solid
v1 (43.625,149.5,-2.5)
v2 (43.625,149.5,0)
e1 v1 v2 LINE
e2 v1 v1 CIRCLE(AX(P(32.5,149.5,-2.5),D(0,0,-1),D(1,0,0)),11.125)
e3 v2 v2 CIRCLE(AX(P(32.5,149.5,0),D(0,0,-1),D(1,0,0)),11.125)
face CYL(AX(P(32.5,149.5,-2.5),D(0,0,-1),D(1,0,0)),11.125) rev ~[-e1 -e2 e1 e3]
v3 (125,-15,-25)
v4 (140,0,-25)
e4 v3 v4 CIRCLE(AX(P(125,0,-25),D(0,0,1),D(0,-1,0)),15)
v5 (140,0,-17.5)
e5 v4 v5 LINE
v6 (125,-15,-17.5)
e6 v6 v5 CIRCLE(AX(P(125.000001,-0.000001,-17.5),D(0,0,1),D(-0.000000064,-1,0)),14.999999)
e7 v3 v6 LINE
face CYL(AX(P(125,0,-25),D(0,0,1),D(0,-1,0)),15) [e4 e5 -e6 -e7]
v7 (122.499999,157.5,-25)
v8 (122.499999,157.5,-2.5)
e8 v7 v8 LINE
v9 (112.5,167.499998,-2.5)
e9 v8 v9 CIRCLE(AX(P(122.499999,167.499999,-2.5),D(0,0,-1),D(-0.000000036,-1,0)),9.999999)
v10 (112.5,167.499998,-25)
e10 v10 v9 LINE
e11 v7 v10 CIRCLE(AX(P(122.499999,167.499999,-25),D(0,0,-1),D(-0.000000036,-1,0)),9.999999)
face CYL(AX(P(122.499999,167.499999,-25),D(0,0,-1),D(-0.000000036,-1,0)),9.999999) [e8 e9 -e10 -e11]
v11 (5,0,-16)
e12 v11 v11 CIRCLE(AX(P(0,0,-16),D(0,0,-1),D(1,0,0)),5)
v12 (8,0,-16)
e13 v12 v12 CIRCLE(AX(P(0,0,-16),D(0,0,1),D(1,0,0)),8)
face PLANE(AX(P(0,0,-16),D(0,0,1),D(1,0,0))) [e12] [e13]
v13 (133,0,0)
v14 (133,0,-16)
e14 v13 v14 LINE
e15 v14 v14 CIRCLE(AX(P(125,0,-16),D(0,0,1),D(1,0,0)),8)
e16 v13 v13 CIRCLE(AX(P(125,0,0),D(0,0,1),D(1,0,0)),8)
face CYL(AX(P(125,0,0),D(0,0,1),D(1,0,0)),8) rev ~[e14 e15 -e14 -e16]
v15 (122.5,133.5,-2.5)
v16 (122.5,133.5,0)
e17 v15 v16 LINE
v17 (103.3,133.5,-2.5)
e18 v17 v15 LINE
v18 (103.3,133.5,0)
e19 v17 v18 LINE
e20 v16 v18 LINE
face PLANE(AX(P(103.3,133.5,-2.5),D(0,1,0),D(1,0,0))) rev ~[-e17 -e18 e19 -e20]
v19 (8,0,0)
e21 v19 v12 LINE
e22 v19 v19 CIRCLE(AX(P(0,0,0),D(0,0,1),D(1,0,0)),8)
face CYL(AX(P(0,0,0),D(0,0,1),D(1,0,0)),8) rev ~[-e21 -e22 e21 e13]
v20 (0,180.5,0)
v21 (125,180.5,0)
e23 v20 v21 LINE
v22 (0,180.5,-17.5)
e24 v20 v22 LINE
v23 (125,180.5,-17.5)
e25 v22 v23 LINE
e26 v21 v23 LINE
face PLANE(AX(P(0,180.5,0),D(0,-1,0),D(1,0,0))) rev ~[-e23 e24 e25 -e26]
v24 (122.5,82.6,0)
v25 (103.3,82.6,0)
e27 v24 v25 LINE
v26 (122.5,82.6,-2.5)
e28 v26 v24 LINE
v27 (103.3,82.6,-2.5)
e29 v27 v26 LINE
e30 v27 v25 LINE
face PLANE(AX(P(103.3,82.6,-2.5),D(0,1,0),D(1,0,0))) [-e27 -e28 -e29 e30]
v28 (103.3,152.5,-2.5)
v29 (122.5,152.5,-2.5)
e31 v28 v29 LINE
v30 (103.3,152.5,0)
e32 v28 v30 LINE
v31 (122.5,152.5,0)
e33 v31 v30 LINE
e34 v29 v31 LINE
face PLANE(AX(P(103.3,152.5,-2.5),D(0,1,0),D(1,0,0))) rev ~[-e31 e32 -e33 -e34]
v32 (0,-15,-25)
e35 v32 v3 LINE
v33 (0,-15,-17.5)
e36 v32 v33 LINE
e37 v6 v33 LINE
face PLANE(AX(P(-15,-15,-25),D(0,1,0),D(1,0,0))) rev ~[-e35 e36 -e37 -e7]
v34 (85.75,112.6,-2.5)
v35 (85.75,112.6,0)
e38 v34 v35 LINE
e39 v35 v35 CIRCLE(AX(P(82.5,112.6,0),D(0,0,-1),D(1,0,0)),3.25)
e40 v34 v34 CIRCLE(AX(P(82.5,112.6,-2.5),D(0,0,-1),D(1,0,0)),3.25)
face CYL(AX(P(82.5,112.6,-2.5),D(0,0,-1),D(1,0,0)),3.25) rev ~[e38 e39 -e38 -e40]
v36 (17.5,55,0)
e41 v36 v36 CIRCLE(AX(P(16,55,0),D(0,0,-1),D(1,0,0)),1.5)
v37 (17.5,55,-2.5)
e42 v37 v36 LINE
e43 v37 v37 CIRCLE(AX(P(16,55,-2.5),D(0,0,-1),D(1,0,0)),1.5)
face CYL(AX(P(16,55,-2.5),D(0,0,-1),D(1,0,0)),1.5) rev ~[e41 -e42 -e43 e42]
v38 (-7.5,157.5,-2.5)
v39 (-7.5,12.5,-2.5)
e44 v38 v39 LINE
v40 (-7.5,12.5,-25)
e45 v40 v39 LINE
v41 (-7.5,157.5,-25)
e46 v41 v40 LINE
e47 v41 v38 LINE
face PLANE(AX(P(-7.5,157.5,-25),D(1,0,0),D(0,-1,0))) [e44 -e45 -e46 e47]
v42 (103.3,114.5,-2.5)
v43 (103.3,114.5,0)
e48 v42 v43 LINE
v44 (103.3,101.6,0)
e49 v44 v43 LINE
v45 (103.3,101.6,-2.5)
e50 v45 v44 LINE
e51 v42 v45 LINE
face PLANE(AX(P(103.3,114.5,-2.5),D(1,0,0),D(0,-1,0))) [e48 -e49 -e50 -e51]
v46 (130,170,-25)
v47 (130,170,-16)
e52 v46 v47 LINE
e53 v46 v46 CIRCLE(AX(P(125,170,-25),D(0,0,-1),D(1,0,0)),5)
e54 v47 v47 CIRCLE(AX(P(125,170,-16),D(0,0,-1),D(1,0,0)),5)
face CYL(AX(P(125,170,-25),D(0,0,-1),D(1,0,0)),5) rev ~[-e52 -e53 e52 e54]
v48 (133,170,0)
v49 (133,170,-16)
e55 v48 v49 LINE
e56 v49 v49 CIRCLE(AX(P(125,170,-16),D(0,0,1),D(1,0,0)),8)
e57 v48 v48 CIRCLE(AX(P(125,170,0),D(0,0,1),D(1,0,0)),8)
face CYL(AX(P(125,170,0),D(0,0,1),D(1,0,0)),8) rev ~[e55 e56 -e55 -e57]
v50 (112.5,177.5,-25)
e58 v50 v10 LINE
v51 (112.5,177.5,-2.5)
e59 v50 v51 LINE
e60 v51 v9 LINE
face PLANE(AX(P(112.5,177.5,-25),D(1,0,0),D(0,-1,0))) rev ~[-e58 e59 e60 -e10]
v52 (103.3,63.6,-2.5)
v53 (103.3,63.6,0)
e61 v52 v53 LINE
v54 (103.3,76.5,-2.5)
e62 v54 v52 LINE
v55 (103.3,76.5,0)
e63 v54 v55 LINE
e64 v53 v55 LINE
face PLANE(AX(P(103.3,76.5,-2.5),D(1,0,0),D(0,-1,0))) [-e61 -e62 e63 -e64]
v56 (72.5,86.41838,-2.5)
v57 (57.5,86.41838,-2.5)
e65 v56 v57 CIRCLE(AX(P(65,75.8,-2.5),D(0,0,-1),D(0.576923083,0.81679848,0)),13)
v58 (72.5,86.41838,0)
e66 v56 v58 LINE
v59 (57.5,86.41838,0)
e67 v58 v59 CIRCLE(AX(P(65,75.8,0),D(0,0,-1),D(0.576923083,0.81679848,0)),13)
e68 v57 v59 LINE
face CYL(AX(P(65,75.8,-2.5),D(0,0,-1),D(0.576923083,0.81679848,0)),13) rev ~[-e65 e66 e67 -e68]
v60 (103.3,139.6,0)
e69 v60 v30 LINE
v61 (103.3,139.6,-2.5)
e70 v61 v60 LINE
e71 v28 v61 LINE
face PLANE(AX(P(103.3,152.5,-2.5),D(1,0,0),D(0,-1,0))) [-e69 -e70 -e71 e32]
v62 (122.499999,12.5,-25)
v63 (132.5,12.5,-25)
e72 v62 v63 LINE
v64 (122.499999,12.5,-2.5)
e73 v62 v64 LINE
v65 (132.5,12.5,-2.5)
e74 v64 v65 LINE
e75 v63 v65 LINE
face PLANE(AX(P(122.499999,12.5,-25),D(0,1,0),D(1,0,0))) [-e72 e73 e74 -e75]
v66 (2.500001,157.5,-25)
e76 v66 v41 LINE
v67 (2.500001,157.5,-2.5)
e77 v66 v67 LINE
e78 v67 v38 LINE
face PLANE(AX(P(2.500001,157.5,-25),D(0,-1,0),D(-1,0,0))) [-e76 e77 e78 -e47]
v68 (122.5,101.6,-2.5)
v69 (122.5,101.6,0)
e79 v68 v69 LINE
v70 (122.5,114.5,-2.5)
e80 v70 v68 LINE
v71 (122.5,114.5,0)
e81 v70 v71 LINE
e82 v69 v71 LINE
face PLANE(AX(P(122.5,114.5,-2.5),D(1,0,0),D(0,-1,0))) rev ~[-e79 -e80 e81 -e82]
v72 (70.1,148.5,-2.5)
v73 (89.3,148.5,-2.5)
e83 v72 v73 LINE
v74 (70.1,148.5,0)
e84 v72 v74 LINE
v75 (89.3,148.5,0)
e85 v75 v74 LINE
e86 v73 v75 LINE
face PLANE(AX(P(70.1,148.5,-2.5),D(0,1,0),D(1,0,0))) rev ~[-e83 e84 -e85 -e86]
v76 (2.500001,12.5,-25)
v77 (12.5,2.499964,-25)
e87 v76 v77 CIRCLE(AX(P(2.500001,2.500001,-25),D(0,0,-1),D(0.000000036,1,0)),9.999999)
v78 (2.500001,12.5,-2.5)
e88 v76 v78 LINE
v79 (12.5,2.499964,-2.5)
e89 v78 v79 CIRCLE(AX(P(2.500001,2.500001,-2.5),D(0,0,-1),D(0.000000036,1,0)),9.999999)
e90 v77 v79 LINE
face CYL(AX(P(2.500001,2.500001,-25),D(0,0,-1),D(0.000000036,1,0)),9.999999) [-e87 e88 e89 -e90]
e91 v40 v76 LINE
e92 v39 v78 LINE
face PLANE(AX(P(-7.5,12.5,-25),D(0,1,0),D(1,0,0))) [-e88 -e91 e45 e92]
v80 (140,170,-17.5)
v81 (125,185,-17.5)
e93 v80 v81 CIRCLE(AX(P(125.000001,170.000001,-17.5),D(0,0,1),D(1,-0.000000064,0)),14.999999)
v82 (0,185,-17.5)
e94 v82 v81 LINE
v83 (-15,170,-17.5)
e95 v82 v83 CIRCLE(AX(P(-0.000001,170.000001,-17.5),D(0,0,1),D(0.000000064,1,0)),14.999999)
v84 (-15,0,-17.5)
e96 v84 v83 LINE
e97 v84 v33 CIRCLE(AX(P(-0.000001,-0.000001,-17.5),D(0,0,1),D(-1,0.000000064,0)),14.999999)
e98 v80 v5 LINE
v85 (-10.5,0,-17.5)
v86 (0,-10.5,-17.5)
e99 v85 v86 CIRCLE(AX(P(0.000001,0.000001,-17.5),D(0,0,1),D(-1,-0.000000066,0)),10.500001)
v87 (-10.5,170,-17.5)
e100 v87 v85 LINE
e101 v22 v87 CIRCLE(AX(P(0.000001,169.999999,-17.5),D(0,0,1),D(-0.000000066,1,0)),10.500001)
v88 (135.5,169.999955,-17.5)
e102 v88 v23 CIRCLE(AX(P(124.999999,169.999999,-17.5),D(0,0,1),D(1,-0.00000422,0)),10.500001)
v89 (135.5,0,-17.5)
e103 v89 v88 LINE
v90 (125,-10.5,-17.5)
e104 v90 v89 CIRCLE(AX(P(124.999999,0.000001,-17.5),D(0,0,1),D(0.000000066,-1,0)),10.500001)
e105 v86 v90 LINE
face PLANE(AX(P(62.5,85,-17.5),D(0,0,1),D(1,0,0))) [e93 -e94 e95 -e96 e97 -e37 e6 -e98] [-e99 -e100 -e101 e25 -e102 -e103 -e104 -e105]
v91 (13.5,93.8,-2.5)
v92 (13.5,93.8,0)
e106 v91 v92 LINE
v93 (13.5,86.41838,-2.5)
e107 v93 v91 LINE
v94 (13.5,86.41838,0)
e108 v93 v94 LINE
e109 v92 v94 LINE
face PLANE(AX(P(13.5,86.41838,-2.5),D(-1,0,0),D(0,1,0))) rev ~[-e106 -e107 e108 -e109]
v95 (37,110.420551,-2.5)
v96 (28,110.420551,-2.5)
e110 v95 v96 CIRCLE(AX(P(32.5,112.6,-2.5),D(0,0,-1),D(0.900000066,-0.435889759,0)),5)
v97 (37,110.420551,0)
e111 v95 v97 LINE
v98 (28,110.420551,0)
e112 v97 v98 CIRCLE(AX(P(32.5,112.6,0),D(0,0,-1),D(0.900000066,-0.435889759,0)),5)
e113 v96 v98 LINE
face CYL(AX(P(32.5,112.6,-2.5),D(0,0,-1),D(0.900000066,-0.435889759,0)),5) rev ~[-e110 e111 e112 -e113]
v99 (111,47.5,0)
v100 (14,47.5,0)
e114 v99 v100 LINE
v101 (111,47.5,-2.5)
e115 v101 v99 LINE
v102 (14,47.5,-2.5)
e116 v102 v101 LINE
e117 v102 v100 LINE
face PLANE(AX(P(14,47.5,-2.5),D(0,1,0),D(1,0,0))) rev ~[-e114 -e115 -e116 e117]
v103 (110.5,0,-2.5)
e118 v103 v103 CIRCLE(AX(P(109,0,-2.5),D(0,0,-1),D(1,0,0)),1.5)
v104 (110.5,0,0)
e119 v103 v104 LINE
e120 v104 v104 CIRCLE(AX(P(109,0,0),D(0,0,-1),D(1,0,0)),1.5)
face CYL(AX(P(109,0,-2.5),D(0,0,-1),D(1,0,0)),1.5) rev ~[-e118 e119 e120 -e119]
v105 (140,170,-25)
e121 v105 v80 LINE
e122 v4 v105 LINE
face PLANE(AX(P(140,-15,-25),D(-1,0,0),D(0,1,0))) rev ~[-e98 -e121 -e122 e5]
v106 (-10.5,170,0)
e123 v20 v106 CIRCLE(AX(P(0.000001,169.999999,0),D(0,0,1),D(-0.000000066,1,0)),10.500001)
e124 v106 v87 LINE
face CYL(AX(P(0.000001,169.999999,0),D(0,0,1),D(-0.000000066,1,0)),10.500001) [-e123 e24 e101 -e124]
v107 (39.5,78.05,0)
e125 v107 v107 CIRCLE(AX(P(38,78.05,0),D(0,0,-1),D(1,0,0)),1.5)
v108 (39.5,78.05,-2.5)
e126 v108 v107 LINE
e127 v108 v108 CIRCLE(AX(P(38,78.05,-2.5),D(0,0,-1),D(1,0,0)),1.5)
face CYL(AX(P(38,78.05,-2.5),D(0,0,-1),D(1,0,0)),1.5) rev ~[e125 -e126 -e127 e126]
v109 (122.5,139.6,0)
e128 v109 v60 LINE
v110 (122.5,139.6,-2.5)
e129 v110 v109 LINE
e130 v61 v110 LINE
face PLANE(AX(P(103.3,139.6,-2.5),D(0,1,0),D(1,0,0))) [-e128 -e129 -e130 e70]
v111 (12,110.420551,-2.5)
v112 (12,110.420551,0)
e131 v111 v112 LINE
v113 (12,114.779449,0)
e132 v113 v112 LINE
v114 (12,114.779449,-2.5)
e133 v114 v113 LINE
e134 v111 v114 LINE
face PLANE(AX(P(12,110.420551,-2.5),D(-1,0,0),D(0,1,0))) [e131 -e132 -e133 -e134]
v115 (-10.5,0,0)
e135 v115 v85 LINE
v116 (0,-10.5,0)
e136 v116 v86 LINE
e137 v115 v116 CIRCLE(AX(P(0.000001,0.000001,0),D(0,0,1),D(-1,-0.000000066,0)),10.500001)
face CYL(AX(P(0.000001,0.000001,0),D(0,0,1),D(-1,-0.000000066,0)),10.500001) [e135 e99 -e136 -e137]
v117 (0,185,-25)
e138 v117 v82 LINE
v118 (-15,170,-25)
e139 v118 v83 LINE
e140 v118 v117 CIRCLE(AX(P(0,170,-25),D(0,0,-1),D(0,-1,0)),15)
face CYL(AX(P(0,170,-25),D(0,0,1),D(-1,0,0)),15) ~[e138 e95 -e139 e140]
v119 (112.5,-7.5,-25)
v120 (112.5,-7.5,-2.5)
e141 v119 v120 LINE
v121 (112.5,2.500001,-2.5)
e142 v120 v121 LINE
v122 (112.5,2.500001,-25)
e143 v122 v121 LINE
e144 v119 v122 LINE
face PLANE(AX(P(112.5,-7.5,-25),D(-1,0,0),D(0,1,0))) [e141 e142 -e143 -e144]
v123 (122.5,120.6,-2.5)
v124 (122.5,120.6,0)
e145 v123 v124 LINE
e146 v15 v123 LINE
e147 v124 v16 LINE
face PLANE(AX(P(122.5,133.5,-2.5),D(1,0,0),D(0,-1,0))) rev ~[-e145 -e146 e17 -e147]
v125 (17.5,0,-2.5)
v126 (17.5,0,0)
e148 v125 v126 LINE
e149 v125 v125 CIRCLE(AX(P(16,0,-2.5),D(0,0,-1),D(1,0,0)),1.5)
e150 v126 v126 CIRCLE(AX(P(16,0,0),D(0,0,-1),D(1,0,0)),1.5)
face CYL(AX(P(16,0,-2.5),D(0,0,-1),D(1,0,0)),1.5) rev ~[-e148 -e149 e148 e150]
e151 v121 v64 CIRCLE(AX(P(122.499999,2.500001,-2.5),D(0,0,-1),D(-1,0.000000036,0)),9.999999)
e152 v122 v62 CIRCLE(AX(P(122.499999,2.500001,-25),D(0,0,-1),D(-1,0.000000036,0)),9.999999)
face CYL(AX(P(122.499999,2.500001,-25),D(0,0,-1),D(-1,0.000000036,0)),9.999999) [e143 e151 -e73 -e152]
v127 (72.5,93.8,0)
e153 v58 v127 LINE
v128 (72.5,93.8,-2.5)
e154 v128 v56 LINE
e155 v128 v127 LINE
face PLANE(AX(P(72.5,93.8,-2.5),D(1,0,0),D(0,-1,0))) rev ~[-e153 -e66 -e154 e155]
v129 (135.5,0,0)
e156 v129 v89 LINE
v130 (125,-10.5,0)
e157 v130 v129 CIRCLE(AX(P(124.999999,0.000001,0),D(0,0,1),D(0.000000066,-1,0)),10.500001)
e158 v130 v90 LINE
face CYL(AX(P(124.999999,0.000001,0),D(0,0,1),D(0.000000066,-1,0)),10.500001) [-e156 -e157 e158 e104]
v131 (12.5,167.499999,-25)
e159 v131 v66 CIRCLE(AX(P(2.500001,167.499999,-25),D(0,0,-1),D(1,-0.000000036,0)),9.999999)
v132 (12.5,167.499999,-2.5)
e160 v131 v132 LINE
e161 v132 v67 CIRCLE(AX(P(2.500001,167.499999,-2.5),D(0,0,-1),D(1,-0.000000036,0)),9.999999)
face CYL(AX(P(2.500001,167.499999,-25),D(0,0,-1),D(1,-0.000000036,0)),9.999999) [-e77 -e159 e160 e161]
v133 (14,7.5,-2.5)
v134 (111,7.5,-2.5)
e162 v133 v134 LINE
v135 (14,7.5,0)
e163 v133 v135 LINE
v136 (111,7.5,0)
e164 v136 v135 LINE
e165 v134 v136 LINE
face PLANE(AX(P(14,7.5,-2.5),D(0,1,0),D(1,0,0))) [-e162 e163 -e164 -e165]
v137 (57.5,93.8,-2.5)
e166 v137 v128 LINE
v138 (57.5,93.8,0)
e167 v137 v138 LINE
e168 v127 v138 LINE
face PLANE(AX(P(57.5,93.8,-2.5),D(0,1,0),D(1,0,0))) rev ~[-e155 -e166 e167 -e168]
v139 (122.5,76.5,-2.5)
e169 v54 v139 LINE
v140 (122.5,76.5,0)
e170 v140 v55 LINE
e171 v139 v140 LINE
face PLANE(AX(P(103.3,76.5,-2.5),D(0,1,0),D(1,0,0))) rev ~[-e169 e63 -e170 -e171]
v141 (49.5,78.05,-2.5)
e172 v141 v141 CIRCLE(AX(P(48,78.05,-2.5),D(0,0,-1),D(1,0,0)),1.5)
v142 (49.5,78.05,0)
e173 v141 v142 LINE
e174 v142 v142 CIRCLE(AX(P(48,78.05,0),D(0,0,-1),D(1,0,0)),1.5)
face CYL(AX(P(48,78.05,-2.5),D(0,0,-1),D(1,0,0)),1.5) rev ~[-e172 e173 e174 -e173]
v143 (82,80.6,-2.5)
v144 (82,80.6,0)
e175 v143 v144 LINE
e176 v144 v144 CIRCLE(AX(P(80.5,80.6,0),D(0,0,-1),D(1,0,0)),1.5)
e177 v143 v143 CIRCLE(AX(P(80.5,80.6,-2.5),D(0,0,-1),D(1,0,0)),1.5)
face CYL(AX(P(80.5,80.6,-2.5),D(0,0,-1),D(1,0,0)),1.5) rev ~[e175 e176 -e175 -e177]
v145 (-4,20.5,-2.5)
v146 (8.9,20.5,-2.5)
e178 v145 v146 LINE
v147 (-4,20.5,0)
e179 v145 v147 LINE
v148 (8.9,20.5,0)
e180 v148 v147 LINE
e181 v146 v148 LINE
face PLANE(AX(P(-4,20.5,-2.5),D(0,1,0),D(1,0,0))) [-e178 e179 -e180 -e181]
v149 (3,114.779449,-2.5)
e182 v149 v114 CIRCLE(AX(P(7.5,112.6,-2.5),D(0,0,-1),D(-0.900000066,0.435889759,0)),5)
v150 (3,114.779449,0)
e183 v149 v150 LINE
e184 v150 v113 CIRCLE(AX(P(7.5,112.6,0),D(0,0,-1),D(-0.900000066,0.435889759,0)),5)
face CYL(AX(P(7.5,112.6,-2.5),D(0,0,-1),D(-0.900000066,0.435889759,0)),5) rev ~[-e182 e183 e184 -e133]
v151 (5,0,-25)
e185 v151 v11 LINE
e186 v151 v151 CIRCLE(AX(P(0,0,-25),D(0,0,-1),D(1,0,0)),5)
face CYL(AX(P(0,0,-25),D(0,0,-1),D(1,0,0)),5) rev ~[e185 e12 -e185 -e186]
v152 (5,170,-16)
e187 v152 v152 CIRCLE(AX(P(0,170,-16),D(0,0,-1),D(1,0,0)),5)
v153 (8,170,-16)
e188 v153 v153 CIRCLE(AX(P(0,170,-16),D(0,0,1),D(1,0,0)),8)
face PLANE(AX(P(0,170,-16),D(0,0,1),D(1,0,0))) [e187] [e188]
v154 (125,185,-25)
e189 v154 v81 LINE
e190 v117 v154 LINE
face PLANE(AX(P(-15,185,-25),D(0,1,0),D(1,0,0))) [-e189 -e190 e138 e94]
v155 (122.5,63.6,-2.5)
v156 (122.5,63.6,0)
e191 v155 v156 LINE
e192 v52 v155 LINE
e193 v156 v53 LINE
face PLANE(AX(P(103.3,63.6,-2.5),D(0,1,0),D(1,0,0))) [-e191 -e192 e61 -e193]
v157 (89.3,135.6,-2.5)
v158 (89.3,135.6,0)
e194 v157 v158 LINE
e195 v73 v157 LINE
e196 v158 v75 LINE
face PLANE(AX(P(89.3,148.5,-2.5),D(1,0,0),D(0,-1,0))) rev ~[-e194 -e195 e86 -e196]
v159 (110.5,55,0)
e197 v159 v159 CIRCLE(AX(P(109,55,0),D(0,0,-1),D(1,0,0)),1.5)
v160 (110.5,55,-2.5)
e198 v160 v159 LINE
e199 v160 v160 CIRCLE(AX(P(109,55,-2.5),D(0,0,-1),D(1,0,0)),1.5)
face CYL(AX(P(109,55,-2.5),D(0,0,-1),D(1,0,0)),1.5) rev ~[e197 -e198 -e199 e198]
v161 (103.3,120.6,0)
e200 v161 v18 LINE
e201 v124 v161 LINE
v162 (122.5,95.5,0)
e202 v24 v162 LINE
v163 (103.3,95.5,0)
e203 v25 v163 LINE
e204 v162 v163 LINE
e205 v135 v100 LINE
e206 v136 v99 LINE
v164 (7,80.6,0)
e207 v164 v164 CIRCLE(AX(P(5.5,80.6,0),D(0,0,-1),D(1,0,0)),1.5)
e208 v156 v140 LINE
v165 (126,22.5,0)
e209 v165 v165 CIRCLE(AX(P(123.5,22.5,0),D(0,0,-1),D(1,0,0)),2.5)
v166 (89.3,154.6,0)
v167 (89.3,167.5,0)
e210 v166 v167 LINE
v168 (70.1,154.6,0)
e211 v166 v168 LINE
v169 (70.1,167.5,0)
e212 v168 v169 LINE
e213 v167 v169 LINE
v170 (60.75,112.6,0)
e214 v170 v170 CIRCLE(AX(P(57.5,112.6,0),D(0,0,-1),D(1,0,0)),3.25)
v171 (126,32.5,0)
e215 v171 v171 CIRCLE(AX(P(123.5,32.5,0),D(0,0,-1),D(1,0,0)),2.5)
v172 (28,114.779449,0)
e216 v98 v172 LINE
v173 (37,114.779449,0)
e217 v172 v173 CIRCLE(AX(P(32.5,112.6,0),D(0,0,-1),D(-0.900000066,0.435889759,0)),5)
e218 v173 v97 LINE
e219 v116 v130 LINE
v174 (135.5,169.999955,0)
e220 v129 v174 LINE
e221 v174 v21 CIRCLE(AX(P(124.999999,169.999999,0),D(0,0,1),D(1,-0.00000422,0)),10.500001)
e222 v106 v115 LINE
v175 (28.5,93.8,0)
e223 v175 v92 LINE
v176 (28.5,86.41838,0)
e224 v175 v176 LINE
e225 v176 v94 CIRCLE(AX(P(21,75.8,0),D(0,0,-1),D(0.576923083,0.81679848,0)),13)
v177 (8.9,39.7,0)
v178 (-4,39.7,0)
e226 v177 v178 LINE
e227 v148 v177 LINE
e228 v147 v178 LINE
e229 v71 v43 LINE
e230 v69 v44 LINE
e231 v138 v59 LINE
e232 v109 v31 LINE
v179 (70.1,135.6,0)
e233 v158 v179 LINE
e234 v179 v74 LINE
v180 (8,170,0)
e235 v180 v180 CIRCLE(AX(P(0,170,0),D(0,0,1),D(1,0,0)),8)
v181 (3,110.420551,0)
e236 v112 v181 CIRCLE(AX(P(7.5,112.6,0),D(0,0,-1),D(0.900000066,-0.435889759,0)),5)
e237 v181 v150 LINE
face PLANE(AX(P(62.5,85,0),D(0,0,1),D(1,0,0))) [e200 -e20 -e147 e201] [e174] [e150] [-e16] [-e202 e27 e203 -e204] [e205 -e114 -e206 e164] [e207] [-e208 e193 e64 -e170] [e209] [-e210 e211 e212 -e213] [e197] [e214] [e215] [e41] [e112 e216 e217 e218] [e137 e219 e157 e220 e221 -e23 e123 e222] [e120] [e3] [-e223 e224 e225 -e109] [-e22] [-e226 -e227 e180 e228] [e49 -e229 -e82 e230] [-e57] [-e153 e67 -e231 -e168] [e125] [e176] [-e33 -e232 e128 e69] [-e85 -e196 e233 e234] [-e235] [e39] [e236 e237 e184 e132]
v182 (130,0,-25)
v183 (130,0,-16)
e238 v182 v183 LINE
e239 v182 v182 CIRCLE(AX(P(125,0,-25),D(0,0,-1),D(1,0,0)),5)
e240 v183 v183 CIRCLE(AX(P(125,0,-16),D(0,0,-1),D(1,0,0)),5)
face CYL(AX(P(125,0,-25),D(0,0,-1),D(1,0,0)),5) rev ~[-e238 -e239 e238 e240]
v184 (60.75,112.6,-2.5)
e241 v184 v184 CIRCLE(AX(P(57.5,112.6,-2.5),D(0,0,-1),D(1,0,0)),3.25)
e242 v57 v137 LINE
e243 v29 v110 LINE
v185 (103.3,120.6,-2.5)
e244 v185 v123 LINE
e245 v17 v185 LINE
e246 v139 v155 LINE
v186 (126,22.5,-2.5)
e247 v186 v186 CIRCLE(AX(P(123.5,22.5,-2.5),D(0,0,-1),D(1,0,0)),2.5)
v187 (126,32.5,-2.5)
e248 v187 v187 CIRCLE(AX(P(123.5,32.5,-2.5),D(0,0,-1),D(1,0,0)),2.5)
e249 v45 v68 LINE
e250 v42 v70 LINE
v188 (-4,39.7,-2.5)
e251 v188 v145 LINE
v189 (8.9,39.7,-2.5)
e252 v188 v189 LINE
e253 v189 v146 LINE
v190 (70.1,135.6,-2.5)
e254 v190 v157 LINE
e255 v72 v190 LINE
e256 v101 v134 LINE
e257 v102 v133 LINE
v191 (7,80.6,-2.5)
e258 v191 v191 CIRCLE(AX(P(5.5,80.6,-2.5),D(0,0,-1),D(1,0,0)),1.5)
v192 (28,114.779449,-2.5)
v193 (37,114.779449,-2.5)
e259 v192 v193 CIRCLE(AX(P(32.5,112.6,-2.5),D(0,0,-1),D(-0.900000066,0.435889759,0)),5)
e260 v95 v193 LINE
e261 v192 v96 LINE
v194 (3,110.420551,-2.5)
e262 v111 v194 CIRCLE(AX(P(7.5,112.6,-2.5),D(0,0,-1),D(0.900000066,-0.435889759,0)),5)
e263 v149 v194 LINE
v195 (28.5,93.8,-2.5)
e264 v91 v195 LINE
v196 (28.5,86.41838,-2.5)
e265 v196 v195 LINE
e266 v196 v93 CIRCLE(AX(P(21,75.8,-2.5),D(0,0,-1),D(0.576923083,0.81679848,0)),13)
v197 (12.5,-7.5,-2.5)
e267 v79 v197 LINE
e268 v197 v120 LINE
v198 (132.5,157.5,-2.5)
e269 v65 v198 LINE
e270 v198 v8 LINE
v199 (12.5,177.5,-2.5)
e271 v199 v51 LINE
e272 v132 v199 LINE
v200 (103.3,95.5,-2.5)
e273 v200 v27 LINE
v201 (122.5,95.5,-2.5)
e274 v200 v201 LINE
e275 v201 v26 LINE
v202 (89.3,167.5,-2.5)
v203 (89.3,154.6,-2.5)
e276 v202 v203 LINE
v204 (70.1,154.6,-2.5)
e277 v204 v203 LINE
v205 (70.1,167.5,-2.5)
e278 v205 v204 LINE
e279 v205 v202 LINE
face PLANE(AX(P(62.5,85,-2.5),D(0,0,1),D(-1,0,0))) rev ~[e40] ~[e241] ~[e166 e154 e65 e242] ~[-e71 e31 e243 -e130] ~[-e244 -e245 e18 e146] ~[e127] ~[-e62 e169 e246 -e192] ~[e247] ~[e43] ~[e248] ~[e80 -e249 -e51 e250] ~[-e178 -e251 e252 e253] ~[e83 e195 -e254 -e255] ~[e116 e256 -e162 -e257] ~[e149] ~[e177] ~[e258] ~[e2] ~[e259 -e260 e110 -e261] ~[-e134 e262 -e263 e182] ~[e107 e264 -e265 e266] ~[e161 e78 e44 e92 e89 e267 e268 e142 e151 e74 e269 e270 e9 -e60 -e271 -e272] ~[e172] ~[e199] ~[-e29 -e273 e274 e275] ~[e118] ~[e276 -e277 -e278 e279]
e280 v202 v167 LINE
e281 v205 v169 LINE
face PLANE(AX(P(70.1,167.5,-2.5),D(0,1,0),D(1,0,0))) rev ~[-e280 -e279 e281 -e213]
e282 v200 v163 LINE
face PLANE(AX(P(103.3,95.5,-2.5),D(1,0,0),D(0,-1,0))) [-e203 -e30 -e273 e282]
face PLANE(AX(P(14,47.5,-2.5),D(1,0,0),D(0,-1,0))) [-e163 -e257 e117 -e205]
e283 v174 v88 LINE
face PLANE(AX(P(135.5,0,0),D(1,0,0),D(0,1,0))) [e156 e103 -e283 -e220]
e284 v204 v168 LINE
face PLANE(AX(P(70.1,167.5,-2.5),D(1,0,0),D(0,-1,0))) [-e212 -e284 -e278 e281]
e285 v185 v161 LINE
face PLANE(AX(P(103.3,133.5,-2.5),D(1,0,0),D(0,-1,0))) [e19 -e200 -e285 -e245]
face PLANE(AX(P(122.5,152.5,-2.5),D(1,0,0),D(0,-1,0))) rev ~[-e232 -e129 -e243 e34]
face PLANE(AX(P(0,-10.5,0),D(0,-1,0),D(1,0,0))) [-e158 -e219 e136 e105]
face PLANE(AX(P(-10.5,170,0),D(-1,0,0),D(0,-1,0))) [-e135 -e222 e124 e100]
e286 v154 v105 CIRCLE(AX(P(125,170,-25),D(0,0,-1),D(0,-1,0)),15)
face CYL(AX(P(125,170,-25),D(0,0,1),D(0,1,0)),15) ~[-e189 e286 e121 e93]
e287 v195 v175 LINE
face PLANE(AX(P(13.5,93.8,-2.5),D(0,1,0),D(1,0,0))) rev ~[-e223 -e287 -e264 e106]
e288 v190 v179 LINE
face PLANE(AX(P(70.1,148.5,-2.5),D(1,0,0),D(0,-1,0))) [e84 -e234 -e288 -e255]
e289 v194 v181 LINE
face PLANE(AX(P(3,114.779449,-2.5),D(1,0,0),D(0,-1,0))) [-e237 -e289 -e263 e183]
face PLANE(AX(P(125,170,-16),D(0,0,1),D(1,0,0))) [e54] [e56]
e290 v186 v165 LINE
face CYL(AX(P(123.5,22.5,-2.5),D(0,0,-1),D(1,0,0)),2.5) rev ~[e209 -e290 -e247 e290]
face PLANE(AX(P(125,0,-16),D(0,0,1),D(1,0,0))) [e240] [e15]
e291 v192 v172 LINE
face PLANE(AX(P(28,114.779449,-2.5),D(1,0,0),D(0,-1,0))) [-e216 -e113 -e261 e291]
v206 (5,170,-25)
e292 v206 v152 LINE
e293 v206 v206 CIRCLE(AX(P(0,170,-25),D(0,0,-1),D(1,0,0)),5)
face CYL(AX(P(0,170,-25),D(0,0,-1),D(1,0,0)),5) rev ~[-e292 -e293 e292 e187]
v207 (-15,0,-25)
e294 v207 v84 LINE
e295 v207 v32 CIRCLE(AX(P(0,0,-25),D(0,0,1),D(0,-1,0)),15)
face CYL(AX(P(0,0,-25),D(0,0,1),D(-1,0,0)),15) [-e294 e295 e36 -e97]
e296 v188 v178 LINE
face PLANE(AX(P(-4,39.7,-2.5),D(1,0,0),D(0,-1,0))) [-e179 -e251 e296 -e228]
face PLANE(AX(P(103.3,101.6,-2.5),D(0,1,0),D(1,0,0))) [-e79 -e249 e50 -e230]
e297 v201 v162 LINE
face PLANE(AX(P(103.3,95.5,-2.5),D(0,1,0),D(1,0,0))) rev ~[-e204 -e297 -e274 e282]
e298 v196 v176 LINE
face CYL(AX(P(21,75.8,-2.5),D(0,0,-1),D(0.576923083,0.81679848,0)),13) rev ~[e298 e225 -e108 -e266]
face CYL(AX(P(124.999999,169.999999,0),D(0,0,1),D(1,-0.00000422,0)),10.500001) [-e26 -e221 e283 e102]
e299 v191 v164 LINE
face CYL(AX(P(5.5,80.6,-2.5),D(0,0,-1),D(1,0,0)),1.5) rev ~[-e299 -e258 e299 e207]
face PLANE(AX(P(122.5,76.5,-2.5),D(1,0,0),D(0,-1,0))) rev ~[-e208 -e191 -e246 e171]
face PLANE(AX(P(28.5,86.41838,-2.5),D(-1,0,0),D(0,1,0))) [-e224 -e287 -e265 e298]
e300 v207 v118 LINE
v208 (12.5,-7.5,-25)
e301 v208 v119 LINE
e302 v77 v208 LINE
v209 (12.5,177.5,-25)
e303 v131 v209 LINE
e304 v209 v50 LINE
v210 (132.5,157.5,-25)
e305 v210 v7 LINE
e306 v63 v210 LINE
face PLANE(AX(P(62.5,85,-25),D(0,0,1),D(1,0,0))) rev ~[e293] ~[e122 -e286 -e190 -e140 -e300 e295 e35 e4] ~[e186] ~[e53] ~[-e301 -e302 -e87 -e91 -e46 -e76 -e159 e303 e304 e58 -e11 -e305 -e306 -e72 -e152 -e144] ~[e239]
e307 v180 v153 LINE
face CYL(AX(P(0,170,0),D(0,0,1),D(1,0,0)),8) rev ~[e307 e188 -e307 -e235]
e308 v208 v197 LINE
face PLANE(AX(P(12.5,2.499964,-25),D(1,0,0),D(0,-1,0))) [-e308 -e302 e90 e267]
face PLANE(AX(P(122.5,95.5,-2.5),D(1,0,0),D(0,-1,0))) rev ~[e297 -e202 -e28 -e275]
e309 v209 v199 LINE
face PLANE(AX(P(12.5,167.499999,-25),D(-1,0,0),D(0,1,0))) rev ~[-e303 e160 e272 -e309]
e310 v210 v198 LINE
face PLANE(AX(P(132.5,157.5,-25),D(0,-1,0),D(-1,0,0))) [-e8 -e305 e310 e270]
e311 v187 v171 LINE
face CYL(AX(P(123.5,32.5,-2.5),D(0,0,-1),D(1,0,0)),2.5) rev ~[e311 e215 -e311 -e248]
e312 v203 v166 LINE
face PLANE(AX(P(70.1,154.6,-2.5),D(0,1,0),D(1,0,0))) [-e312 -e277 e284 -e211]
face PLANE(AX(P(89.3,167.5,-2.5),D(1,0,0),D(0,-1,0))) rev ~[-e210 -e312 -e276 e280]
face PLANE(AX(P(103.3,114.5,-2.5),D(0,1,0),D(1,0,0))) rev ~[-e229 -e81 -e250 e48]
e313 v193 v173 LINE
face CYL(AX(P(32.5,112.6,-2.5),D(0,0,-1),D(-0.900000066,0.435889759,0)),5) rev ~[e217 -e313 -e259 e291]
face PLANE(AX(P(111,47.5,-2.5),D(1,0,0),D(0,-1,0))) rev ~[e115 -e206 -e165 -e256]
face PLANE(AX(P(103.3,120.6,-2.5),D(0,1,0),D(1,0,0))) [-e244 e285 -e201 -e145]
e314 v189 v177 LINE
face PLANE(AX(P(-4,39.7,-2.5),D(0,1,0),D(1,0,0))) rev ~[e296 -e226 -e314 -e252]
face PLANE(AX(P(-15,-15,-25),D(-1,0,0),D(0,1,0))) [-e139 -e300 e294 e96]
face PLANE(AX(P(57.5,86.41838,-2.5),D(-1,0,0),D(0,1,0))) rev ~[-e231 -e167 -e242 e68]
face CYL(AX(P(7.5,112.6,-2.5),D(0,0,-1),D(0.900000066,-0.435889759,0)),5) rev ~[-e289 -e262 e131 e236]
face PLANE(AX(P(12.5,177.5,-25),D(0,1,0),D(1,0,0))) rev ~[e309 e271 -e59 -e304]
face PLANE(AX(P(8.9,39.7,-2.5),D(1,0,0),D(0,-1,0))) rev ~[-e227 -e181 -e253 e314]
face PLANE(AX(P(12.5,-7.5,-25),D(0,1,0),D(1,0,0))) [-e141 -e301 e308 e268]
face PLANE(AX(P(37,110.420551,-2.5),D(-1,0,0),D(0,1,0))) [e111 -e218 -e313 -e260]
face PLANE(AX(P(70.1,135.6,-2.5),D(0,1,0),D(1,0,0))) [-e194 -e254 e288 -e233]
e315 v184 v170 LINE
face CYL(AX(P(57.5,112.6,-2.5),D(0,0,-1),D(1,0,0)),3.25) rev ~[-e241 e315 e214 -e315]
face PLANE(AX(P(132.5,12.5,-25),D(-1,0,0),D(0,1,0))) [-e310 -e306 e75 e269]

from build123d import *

# Parameters (mm, degrees)
SKETCH_W        = 155
SKETCH_H        = 200
PAD_DEPTH       = 25
POCKET_DEPTH    = 22.5
FILLET_R        = 15
SKETCH002_R     = 5
POCKET001_DEPTH = 25.001
SKETCH003_R     = 8
POCKET002_DEPTH = 16
POCKET003_DEPTH = 17.5
POCKET004_DEPTH = 17.5
SKETCH006_R     = 1.5
SKETCH006_W     = 97
SKETCH006_H     = 40
POCKET005_DEPTH = 2.501
SKETCH007_R     = 11.125
SKETCH007_R_2   = 1.5
SKETCH007_R_3   = 3.25
SKETCH007_R_4   = 2.5
SKETCH007_W     = 19.2
SKETCH007_H     = 12.9
SKETCH007_W_2   = 12.9
SKETCH007_H_2   = 19.2
POCKET006_DEPTH = 5


with BuildPart() as part:
    # Sketch → Pad (new body)
    with BuildSketch(Plane.XY):
        with Locations((77.5, 100)):
            Rectangle(SKETCH_W, SKETCH_H)
    extrude(amount=PAD_DEPTH)

    # Sketch001 (on Face5 of Pad) → Pocket (cut)
    with BuildSketch(Plane(origin=(0, 0, 0), x_dir=(1, 0, 0), z_dir=(0, 0, -1))):
        with BuildLine():
            ThreePointArc((17.500001, -27.5), (24.571081, -24.571055), (27.5, -17.499964))
            Line((27.5, -17.499964), (27.5, -7.5))
            Line((27.5, -7.5), (127.5, -7.5))
            Line((127.5, -7.5), (127.5, -17.500001))
            ThreePointArc((127.5, -17.500001), (130.428932, -24.571068), (137.499999, -27.5))
            Line((137.499999, -27.5), (147.5, -27.5))
            Line((147.5, -27.5), (147.5, -172.5))
            Line((147.5, -172.5), (137.499999, -172.5))
            ThreePointArc((137.499999, -172.5), (130.428932, -175.428932), (127.5, -182.499998))
            Line((127.5, -192.5), (127.5, -182.499998))
            Line((27.5, -192.5), (127.5, -192.5))
            Line((27.5, -182.499999), (27.5, -192.5))
            ThreePointArc((27.5, -182.499999), (24.571068, -175.428932), (17.500001, -172.5))
            Line((17.500001, -172.5), (7.5, -172.5))
            Line((7.5, -172.5), (7.5, -27.5))
            Line((7.5, -27.5), (17.500001, -27.5))
        make_face()
    extrude(amount=-POCKET_DEPTH, mode=Mode.SUBTRACT)

    # Fillet
    fillet_edges = [part.edges().sort_by_distance(p)[0] for p in [
        (155, 0, 12.5),
        (155, 200, 12.5),
        (0, 0, 12.5),
        (0, 200, 12.5),
    ]]
    fillet(fillet_edges, radius=FILLET_R)

    # Sketch002 (on Face2 of Fillet) → Pocket001 (cut, through all)
    with BuildSketch(Plane(origin=(0, 0, 0), x_dir=(1, 0, 0), z_dir=(0, 0, -1))):
        with Locations((15, -15)):
            Circle(SKETCH002_R)
        with Locations((140, -15)):
            Circle(SKETCH002_R)
        with Locations((140, -185)):
            Circle(SKETCH002_R)
        with Locations((15, -185)):
            Circle(SKETCH002_R)
    extrude(amount=-POCKET001_DEPTH, mode=Mode.SUBTRACT)

    # Sketch003 (on Face5 of Pocket001) → Pocket002 (cut)
    with BuildSketch(Plane.XY.offset(25)):
        with Locations((15, 185)):
            Circle(SKETCH003_R)
        with Locations((140, 185)):
            Circle(SKETCH003_R)
        with Locations((140, 15)):
            Circle(SKETCH003_R)
        with Locations((15, 15)):
            Circle(SKETCH003_R)
    extrude(amount=-POCKET002_DEPTH, mode=Mode.SUBTRACT)

    # Sketch004 (on Face5 of Pocket002) → Pocket003 (cut)
    with BuildSketch(Plane.XY.offset(25)):
        with BuildLine():
            ThreePointArc((15, 200), (4.393398, 195.606602), (0, 185))
            Line((0, 15), (0, 185))
            ThreePointArc((0, 15), (4.393398, 4.393398), (15, 0))
            Line((140, 0), (15, 0))
            ThreePointArc((140, 0), (150.606602, 4.393398), (155, 15))
            Line((155, 185), (155, 15))
            ThreePointArc((155, 185), (150.606602, 195.606602), (140, 200))
            Line((15, 200), (140, 200))
        make_face()
        with BuildLine():
            ThreePointArc((15, 195.5), (7.575379, 192.424621), (4.5, 185))
            Line((4.5, 185), (4.5, 15))
            ThreePointArc((4.5, 15), (7.575379, 7.575379), (15, 4.5))
            Line((15, 4.5), (140, 4.5))
            ThreePointArc((140, 4.5), (147.424621, 7.575379), (150.5, 15))
            Line((150.5, 15), (150.5, 184.999955))
            ThreePointArc((150.5, 184.999955), (147.424637, 192.424605), (140, 195.5))
            Line((15, 195.5), (140, 195.5))
        make_face(mode=Mode.SUBTRACT)
    extrude(amount=POCKET003_DEPTH, mode=Mode.SUBTRACT)

    # Sketch004 (on Face5 of Pocket002) → Pocket004 (cut)
    with BuildSketch(Plane.XY.offset(25)):
        with BuildLine():
            ThreePointArc((15, 200), (4.393398, 195.606602), (0, 185))
            Line((0, 15), (0, 185))
            ThreePointArc((0, 15), (4.393398, 4.393398), (15, 0))
            Line((140, 0), (15, 0))
            ThreePointArc((140, 0), (150.606602, 4.393398), (155, 15))
            Line((155, 185), (155, 15))
            ThreePointArc((155, 185), (150.606602, 195.606602), (140, 200))
            Line((15, 200), (140, 200))
        make_face()
        with BuildLine():
            ThreePointArc((15, 195.5), (7.575379, 192.424621), (4.5, 185))
            Line((4.5, 185), (4.5, 15))
            ThreePointArc((4.5, 15), (7.575379, 7.575379), (15, 4.5))
            Line((15, 4.5), (140, 4.5))
            ThreePointArc((140, 4.5), (147.424621, 7.575379), (150.5, 15))
            Line((150.5, 15), (150.5, 184.999955))
            ThreePointArc((150.5, 184.999955), (147.424637, 192.424605), (140, 195.5))
            Line((15, 195.5), (140, 195.5))
        make_face(mode=Mode.SUBTRACT)
    extrude(amount=-POCKET004_DEPTH, mode=Mode.SUBTRACT)

    # Sketch006 (on Face40 of Pocket004) → Pocket005 (cut, through all)
    with BuildSketch(Plane(origin=(0, 0, 22.5), x_dir=(1, 0, 0), z_dir=(0, 0, -1))):
        with Locations((31, -15)):
            Circle(SKETCH006_R)
        with Locations((124, -15)):
            Circle(SKETCH006_R)
        with Locations((124, -70)):
            Circle(SKETCH006_R)
        with Locations((31, -70)):
            Circle(SKETCH006_R)
        with Locations((77.5, -42.5)):
            Rectangle(SKETCH006_W, SKETCH006_H)
    extrude(amount=-POCKET005_DEPTH, mode=Mode.SUBTRACT)

    # Sketch007 (on Face40 of Pocket005) → Pocket006 (cut)
    with BuildSketch(Plane(origin=(0, 0, 22.5), x_dir=(1, 0, 0), z_dir=(0, 0, -1))):
        with Locations((47.5, -164.5)):
            Circle(SKETCH007_R)
        with Locations((20.5, -95.6)):
            Circle(SKETCH007_R_2)
        with Locations((95.5, -95.6)):
            Circle(SKETCH007_R_2)
        with Locations((53, -93.05)):
            Circle(SKETCH007_R_2)
        with Locations((63, -93.05)):
            Circle(SKETCH007_R_2)
        with Locations((72.5, -127.6)):
            Circle(SKETCH007_R_3)
        with Locations((97.5, -127.6)):
            Circle(SKETCH007_R_3)
        with Locations((138.5, -37.5)):
            Circle(SKETCH007_R_4)
        with Locations((138.5, -47.5)):
            Circle(SKETCH007_R_4)
        with Locations((127.9, -85.05)):
            Rectangle(SKETCH007_W, SKETCH007_H)
        with Locations((127.9, -123.05)):
            Rectangle(SKETCH007_W, SKETCH007_H)
        with Locations((127.9, -142.05)):
            Rectangle(SKETCH007_W, SKETCH007_H)
        with Locations((127.9, -161.05)):
            Rectangle(SKETCH007_W, SKETCH007_H)
        with Locations((127.9, -104.05)):
            Rectangle(SKETCH007_W, SKETCH007_H)
        with BuildLine():
            ThreePointArc((87.5, -101.41838), (80, -77.8), (72.5, -101.41838))
            Line((72.5, -101.41838), (72.5, -108.8))
            Line((72.5, -108.8), (87.5, -108.8))
            Line((87.5, -108.8), (87.5, -101.41838))
        make_face()
        with BuildLine():
            ThreePointArc((43.5, -101.41838), (36, -77.8), (28.5, -101.41838))
            Line((28.5, -101.41838), (28.5, -108.8))
            Line((28.5, -108.8), (43.5, -108.8))
            Line((43.5, -101.41838), (43.5, -108.8))
        make_face()
        with Locations((94.7, -157.05)):
            Rectangle(SKETCH007_W, SKETCH007_H)
        with Locations((94.7, -176.05)):
            Rectangle(SKETCH007_W, SKETCH007_H)
        with Locations((17.45, -45.1)):
            Rectangle(SKETCH007_W_2, SKETCH007_H_2)
        with BuildLine():
            Line((27, -125.420551), (27, -129.779449))
            ThreePointArc((18, -129.779449), (22.5, -132.6), (27, -129.779449))
            Line((18, -129.779449), (18, -125.420551))
            ThreePointArc((27, -125.420551), (22.5, -122.6), (18, -125.420551))
        make_face()
        with BuildLine():
            Line((52, -125.420551), (52, -129.779449))
            ThreePointArc((43, -129.779449), (47.5, -132.6), (52, -129.779449))
            Line((43, -129.779449), (43, -125.420551))
            ThreePointArc((52, -125.420551), (47.5, -122.6), (43, -125.420551))
        make_face()
    extrude(amount=-POCKET006_DEPTH, mode=Mode.SUBTRACT)


with BuildPart() as part_1:
    # Body placement: moved
    add(part.part.moved(Location((-15, -15, -25))))


solid = part_1.part
